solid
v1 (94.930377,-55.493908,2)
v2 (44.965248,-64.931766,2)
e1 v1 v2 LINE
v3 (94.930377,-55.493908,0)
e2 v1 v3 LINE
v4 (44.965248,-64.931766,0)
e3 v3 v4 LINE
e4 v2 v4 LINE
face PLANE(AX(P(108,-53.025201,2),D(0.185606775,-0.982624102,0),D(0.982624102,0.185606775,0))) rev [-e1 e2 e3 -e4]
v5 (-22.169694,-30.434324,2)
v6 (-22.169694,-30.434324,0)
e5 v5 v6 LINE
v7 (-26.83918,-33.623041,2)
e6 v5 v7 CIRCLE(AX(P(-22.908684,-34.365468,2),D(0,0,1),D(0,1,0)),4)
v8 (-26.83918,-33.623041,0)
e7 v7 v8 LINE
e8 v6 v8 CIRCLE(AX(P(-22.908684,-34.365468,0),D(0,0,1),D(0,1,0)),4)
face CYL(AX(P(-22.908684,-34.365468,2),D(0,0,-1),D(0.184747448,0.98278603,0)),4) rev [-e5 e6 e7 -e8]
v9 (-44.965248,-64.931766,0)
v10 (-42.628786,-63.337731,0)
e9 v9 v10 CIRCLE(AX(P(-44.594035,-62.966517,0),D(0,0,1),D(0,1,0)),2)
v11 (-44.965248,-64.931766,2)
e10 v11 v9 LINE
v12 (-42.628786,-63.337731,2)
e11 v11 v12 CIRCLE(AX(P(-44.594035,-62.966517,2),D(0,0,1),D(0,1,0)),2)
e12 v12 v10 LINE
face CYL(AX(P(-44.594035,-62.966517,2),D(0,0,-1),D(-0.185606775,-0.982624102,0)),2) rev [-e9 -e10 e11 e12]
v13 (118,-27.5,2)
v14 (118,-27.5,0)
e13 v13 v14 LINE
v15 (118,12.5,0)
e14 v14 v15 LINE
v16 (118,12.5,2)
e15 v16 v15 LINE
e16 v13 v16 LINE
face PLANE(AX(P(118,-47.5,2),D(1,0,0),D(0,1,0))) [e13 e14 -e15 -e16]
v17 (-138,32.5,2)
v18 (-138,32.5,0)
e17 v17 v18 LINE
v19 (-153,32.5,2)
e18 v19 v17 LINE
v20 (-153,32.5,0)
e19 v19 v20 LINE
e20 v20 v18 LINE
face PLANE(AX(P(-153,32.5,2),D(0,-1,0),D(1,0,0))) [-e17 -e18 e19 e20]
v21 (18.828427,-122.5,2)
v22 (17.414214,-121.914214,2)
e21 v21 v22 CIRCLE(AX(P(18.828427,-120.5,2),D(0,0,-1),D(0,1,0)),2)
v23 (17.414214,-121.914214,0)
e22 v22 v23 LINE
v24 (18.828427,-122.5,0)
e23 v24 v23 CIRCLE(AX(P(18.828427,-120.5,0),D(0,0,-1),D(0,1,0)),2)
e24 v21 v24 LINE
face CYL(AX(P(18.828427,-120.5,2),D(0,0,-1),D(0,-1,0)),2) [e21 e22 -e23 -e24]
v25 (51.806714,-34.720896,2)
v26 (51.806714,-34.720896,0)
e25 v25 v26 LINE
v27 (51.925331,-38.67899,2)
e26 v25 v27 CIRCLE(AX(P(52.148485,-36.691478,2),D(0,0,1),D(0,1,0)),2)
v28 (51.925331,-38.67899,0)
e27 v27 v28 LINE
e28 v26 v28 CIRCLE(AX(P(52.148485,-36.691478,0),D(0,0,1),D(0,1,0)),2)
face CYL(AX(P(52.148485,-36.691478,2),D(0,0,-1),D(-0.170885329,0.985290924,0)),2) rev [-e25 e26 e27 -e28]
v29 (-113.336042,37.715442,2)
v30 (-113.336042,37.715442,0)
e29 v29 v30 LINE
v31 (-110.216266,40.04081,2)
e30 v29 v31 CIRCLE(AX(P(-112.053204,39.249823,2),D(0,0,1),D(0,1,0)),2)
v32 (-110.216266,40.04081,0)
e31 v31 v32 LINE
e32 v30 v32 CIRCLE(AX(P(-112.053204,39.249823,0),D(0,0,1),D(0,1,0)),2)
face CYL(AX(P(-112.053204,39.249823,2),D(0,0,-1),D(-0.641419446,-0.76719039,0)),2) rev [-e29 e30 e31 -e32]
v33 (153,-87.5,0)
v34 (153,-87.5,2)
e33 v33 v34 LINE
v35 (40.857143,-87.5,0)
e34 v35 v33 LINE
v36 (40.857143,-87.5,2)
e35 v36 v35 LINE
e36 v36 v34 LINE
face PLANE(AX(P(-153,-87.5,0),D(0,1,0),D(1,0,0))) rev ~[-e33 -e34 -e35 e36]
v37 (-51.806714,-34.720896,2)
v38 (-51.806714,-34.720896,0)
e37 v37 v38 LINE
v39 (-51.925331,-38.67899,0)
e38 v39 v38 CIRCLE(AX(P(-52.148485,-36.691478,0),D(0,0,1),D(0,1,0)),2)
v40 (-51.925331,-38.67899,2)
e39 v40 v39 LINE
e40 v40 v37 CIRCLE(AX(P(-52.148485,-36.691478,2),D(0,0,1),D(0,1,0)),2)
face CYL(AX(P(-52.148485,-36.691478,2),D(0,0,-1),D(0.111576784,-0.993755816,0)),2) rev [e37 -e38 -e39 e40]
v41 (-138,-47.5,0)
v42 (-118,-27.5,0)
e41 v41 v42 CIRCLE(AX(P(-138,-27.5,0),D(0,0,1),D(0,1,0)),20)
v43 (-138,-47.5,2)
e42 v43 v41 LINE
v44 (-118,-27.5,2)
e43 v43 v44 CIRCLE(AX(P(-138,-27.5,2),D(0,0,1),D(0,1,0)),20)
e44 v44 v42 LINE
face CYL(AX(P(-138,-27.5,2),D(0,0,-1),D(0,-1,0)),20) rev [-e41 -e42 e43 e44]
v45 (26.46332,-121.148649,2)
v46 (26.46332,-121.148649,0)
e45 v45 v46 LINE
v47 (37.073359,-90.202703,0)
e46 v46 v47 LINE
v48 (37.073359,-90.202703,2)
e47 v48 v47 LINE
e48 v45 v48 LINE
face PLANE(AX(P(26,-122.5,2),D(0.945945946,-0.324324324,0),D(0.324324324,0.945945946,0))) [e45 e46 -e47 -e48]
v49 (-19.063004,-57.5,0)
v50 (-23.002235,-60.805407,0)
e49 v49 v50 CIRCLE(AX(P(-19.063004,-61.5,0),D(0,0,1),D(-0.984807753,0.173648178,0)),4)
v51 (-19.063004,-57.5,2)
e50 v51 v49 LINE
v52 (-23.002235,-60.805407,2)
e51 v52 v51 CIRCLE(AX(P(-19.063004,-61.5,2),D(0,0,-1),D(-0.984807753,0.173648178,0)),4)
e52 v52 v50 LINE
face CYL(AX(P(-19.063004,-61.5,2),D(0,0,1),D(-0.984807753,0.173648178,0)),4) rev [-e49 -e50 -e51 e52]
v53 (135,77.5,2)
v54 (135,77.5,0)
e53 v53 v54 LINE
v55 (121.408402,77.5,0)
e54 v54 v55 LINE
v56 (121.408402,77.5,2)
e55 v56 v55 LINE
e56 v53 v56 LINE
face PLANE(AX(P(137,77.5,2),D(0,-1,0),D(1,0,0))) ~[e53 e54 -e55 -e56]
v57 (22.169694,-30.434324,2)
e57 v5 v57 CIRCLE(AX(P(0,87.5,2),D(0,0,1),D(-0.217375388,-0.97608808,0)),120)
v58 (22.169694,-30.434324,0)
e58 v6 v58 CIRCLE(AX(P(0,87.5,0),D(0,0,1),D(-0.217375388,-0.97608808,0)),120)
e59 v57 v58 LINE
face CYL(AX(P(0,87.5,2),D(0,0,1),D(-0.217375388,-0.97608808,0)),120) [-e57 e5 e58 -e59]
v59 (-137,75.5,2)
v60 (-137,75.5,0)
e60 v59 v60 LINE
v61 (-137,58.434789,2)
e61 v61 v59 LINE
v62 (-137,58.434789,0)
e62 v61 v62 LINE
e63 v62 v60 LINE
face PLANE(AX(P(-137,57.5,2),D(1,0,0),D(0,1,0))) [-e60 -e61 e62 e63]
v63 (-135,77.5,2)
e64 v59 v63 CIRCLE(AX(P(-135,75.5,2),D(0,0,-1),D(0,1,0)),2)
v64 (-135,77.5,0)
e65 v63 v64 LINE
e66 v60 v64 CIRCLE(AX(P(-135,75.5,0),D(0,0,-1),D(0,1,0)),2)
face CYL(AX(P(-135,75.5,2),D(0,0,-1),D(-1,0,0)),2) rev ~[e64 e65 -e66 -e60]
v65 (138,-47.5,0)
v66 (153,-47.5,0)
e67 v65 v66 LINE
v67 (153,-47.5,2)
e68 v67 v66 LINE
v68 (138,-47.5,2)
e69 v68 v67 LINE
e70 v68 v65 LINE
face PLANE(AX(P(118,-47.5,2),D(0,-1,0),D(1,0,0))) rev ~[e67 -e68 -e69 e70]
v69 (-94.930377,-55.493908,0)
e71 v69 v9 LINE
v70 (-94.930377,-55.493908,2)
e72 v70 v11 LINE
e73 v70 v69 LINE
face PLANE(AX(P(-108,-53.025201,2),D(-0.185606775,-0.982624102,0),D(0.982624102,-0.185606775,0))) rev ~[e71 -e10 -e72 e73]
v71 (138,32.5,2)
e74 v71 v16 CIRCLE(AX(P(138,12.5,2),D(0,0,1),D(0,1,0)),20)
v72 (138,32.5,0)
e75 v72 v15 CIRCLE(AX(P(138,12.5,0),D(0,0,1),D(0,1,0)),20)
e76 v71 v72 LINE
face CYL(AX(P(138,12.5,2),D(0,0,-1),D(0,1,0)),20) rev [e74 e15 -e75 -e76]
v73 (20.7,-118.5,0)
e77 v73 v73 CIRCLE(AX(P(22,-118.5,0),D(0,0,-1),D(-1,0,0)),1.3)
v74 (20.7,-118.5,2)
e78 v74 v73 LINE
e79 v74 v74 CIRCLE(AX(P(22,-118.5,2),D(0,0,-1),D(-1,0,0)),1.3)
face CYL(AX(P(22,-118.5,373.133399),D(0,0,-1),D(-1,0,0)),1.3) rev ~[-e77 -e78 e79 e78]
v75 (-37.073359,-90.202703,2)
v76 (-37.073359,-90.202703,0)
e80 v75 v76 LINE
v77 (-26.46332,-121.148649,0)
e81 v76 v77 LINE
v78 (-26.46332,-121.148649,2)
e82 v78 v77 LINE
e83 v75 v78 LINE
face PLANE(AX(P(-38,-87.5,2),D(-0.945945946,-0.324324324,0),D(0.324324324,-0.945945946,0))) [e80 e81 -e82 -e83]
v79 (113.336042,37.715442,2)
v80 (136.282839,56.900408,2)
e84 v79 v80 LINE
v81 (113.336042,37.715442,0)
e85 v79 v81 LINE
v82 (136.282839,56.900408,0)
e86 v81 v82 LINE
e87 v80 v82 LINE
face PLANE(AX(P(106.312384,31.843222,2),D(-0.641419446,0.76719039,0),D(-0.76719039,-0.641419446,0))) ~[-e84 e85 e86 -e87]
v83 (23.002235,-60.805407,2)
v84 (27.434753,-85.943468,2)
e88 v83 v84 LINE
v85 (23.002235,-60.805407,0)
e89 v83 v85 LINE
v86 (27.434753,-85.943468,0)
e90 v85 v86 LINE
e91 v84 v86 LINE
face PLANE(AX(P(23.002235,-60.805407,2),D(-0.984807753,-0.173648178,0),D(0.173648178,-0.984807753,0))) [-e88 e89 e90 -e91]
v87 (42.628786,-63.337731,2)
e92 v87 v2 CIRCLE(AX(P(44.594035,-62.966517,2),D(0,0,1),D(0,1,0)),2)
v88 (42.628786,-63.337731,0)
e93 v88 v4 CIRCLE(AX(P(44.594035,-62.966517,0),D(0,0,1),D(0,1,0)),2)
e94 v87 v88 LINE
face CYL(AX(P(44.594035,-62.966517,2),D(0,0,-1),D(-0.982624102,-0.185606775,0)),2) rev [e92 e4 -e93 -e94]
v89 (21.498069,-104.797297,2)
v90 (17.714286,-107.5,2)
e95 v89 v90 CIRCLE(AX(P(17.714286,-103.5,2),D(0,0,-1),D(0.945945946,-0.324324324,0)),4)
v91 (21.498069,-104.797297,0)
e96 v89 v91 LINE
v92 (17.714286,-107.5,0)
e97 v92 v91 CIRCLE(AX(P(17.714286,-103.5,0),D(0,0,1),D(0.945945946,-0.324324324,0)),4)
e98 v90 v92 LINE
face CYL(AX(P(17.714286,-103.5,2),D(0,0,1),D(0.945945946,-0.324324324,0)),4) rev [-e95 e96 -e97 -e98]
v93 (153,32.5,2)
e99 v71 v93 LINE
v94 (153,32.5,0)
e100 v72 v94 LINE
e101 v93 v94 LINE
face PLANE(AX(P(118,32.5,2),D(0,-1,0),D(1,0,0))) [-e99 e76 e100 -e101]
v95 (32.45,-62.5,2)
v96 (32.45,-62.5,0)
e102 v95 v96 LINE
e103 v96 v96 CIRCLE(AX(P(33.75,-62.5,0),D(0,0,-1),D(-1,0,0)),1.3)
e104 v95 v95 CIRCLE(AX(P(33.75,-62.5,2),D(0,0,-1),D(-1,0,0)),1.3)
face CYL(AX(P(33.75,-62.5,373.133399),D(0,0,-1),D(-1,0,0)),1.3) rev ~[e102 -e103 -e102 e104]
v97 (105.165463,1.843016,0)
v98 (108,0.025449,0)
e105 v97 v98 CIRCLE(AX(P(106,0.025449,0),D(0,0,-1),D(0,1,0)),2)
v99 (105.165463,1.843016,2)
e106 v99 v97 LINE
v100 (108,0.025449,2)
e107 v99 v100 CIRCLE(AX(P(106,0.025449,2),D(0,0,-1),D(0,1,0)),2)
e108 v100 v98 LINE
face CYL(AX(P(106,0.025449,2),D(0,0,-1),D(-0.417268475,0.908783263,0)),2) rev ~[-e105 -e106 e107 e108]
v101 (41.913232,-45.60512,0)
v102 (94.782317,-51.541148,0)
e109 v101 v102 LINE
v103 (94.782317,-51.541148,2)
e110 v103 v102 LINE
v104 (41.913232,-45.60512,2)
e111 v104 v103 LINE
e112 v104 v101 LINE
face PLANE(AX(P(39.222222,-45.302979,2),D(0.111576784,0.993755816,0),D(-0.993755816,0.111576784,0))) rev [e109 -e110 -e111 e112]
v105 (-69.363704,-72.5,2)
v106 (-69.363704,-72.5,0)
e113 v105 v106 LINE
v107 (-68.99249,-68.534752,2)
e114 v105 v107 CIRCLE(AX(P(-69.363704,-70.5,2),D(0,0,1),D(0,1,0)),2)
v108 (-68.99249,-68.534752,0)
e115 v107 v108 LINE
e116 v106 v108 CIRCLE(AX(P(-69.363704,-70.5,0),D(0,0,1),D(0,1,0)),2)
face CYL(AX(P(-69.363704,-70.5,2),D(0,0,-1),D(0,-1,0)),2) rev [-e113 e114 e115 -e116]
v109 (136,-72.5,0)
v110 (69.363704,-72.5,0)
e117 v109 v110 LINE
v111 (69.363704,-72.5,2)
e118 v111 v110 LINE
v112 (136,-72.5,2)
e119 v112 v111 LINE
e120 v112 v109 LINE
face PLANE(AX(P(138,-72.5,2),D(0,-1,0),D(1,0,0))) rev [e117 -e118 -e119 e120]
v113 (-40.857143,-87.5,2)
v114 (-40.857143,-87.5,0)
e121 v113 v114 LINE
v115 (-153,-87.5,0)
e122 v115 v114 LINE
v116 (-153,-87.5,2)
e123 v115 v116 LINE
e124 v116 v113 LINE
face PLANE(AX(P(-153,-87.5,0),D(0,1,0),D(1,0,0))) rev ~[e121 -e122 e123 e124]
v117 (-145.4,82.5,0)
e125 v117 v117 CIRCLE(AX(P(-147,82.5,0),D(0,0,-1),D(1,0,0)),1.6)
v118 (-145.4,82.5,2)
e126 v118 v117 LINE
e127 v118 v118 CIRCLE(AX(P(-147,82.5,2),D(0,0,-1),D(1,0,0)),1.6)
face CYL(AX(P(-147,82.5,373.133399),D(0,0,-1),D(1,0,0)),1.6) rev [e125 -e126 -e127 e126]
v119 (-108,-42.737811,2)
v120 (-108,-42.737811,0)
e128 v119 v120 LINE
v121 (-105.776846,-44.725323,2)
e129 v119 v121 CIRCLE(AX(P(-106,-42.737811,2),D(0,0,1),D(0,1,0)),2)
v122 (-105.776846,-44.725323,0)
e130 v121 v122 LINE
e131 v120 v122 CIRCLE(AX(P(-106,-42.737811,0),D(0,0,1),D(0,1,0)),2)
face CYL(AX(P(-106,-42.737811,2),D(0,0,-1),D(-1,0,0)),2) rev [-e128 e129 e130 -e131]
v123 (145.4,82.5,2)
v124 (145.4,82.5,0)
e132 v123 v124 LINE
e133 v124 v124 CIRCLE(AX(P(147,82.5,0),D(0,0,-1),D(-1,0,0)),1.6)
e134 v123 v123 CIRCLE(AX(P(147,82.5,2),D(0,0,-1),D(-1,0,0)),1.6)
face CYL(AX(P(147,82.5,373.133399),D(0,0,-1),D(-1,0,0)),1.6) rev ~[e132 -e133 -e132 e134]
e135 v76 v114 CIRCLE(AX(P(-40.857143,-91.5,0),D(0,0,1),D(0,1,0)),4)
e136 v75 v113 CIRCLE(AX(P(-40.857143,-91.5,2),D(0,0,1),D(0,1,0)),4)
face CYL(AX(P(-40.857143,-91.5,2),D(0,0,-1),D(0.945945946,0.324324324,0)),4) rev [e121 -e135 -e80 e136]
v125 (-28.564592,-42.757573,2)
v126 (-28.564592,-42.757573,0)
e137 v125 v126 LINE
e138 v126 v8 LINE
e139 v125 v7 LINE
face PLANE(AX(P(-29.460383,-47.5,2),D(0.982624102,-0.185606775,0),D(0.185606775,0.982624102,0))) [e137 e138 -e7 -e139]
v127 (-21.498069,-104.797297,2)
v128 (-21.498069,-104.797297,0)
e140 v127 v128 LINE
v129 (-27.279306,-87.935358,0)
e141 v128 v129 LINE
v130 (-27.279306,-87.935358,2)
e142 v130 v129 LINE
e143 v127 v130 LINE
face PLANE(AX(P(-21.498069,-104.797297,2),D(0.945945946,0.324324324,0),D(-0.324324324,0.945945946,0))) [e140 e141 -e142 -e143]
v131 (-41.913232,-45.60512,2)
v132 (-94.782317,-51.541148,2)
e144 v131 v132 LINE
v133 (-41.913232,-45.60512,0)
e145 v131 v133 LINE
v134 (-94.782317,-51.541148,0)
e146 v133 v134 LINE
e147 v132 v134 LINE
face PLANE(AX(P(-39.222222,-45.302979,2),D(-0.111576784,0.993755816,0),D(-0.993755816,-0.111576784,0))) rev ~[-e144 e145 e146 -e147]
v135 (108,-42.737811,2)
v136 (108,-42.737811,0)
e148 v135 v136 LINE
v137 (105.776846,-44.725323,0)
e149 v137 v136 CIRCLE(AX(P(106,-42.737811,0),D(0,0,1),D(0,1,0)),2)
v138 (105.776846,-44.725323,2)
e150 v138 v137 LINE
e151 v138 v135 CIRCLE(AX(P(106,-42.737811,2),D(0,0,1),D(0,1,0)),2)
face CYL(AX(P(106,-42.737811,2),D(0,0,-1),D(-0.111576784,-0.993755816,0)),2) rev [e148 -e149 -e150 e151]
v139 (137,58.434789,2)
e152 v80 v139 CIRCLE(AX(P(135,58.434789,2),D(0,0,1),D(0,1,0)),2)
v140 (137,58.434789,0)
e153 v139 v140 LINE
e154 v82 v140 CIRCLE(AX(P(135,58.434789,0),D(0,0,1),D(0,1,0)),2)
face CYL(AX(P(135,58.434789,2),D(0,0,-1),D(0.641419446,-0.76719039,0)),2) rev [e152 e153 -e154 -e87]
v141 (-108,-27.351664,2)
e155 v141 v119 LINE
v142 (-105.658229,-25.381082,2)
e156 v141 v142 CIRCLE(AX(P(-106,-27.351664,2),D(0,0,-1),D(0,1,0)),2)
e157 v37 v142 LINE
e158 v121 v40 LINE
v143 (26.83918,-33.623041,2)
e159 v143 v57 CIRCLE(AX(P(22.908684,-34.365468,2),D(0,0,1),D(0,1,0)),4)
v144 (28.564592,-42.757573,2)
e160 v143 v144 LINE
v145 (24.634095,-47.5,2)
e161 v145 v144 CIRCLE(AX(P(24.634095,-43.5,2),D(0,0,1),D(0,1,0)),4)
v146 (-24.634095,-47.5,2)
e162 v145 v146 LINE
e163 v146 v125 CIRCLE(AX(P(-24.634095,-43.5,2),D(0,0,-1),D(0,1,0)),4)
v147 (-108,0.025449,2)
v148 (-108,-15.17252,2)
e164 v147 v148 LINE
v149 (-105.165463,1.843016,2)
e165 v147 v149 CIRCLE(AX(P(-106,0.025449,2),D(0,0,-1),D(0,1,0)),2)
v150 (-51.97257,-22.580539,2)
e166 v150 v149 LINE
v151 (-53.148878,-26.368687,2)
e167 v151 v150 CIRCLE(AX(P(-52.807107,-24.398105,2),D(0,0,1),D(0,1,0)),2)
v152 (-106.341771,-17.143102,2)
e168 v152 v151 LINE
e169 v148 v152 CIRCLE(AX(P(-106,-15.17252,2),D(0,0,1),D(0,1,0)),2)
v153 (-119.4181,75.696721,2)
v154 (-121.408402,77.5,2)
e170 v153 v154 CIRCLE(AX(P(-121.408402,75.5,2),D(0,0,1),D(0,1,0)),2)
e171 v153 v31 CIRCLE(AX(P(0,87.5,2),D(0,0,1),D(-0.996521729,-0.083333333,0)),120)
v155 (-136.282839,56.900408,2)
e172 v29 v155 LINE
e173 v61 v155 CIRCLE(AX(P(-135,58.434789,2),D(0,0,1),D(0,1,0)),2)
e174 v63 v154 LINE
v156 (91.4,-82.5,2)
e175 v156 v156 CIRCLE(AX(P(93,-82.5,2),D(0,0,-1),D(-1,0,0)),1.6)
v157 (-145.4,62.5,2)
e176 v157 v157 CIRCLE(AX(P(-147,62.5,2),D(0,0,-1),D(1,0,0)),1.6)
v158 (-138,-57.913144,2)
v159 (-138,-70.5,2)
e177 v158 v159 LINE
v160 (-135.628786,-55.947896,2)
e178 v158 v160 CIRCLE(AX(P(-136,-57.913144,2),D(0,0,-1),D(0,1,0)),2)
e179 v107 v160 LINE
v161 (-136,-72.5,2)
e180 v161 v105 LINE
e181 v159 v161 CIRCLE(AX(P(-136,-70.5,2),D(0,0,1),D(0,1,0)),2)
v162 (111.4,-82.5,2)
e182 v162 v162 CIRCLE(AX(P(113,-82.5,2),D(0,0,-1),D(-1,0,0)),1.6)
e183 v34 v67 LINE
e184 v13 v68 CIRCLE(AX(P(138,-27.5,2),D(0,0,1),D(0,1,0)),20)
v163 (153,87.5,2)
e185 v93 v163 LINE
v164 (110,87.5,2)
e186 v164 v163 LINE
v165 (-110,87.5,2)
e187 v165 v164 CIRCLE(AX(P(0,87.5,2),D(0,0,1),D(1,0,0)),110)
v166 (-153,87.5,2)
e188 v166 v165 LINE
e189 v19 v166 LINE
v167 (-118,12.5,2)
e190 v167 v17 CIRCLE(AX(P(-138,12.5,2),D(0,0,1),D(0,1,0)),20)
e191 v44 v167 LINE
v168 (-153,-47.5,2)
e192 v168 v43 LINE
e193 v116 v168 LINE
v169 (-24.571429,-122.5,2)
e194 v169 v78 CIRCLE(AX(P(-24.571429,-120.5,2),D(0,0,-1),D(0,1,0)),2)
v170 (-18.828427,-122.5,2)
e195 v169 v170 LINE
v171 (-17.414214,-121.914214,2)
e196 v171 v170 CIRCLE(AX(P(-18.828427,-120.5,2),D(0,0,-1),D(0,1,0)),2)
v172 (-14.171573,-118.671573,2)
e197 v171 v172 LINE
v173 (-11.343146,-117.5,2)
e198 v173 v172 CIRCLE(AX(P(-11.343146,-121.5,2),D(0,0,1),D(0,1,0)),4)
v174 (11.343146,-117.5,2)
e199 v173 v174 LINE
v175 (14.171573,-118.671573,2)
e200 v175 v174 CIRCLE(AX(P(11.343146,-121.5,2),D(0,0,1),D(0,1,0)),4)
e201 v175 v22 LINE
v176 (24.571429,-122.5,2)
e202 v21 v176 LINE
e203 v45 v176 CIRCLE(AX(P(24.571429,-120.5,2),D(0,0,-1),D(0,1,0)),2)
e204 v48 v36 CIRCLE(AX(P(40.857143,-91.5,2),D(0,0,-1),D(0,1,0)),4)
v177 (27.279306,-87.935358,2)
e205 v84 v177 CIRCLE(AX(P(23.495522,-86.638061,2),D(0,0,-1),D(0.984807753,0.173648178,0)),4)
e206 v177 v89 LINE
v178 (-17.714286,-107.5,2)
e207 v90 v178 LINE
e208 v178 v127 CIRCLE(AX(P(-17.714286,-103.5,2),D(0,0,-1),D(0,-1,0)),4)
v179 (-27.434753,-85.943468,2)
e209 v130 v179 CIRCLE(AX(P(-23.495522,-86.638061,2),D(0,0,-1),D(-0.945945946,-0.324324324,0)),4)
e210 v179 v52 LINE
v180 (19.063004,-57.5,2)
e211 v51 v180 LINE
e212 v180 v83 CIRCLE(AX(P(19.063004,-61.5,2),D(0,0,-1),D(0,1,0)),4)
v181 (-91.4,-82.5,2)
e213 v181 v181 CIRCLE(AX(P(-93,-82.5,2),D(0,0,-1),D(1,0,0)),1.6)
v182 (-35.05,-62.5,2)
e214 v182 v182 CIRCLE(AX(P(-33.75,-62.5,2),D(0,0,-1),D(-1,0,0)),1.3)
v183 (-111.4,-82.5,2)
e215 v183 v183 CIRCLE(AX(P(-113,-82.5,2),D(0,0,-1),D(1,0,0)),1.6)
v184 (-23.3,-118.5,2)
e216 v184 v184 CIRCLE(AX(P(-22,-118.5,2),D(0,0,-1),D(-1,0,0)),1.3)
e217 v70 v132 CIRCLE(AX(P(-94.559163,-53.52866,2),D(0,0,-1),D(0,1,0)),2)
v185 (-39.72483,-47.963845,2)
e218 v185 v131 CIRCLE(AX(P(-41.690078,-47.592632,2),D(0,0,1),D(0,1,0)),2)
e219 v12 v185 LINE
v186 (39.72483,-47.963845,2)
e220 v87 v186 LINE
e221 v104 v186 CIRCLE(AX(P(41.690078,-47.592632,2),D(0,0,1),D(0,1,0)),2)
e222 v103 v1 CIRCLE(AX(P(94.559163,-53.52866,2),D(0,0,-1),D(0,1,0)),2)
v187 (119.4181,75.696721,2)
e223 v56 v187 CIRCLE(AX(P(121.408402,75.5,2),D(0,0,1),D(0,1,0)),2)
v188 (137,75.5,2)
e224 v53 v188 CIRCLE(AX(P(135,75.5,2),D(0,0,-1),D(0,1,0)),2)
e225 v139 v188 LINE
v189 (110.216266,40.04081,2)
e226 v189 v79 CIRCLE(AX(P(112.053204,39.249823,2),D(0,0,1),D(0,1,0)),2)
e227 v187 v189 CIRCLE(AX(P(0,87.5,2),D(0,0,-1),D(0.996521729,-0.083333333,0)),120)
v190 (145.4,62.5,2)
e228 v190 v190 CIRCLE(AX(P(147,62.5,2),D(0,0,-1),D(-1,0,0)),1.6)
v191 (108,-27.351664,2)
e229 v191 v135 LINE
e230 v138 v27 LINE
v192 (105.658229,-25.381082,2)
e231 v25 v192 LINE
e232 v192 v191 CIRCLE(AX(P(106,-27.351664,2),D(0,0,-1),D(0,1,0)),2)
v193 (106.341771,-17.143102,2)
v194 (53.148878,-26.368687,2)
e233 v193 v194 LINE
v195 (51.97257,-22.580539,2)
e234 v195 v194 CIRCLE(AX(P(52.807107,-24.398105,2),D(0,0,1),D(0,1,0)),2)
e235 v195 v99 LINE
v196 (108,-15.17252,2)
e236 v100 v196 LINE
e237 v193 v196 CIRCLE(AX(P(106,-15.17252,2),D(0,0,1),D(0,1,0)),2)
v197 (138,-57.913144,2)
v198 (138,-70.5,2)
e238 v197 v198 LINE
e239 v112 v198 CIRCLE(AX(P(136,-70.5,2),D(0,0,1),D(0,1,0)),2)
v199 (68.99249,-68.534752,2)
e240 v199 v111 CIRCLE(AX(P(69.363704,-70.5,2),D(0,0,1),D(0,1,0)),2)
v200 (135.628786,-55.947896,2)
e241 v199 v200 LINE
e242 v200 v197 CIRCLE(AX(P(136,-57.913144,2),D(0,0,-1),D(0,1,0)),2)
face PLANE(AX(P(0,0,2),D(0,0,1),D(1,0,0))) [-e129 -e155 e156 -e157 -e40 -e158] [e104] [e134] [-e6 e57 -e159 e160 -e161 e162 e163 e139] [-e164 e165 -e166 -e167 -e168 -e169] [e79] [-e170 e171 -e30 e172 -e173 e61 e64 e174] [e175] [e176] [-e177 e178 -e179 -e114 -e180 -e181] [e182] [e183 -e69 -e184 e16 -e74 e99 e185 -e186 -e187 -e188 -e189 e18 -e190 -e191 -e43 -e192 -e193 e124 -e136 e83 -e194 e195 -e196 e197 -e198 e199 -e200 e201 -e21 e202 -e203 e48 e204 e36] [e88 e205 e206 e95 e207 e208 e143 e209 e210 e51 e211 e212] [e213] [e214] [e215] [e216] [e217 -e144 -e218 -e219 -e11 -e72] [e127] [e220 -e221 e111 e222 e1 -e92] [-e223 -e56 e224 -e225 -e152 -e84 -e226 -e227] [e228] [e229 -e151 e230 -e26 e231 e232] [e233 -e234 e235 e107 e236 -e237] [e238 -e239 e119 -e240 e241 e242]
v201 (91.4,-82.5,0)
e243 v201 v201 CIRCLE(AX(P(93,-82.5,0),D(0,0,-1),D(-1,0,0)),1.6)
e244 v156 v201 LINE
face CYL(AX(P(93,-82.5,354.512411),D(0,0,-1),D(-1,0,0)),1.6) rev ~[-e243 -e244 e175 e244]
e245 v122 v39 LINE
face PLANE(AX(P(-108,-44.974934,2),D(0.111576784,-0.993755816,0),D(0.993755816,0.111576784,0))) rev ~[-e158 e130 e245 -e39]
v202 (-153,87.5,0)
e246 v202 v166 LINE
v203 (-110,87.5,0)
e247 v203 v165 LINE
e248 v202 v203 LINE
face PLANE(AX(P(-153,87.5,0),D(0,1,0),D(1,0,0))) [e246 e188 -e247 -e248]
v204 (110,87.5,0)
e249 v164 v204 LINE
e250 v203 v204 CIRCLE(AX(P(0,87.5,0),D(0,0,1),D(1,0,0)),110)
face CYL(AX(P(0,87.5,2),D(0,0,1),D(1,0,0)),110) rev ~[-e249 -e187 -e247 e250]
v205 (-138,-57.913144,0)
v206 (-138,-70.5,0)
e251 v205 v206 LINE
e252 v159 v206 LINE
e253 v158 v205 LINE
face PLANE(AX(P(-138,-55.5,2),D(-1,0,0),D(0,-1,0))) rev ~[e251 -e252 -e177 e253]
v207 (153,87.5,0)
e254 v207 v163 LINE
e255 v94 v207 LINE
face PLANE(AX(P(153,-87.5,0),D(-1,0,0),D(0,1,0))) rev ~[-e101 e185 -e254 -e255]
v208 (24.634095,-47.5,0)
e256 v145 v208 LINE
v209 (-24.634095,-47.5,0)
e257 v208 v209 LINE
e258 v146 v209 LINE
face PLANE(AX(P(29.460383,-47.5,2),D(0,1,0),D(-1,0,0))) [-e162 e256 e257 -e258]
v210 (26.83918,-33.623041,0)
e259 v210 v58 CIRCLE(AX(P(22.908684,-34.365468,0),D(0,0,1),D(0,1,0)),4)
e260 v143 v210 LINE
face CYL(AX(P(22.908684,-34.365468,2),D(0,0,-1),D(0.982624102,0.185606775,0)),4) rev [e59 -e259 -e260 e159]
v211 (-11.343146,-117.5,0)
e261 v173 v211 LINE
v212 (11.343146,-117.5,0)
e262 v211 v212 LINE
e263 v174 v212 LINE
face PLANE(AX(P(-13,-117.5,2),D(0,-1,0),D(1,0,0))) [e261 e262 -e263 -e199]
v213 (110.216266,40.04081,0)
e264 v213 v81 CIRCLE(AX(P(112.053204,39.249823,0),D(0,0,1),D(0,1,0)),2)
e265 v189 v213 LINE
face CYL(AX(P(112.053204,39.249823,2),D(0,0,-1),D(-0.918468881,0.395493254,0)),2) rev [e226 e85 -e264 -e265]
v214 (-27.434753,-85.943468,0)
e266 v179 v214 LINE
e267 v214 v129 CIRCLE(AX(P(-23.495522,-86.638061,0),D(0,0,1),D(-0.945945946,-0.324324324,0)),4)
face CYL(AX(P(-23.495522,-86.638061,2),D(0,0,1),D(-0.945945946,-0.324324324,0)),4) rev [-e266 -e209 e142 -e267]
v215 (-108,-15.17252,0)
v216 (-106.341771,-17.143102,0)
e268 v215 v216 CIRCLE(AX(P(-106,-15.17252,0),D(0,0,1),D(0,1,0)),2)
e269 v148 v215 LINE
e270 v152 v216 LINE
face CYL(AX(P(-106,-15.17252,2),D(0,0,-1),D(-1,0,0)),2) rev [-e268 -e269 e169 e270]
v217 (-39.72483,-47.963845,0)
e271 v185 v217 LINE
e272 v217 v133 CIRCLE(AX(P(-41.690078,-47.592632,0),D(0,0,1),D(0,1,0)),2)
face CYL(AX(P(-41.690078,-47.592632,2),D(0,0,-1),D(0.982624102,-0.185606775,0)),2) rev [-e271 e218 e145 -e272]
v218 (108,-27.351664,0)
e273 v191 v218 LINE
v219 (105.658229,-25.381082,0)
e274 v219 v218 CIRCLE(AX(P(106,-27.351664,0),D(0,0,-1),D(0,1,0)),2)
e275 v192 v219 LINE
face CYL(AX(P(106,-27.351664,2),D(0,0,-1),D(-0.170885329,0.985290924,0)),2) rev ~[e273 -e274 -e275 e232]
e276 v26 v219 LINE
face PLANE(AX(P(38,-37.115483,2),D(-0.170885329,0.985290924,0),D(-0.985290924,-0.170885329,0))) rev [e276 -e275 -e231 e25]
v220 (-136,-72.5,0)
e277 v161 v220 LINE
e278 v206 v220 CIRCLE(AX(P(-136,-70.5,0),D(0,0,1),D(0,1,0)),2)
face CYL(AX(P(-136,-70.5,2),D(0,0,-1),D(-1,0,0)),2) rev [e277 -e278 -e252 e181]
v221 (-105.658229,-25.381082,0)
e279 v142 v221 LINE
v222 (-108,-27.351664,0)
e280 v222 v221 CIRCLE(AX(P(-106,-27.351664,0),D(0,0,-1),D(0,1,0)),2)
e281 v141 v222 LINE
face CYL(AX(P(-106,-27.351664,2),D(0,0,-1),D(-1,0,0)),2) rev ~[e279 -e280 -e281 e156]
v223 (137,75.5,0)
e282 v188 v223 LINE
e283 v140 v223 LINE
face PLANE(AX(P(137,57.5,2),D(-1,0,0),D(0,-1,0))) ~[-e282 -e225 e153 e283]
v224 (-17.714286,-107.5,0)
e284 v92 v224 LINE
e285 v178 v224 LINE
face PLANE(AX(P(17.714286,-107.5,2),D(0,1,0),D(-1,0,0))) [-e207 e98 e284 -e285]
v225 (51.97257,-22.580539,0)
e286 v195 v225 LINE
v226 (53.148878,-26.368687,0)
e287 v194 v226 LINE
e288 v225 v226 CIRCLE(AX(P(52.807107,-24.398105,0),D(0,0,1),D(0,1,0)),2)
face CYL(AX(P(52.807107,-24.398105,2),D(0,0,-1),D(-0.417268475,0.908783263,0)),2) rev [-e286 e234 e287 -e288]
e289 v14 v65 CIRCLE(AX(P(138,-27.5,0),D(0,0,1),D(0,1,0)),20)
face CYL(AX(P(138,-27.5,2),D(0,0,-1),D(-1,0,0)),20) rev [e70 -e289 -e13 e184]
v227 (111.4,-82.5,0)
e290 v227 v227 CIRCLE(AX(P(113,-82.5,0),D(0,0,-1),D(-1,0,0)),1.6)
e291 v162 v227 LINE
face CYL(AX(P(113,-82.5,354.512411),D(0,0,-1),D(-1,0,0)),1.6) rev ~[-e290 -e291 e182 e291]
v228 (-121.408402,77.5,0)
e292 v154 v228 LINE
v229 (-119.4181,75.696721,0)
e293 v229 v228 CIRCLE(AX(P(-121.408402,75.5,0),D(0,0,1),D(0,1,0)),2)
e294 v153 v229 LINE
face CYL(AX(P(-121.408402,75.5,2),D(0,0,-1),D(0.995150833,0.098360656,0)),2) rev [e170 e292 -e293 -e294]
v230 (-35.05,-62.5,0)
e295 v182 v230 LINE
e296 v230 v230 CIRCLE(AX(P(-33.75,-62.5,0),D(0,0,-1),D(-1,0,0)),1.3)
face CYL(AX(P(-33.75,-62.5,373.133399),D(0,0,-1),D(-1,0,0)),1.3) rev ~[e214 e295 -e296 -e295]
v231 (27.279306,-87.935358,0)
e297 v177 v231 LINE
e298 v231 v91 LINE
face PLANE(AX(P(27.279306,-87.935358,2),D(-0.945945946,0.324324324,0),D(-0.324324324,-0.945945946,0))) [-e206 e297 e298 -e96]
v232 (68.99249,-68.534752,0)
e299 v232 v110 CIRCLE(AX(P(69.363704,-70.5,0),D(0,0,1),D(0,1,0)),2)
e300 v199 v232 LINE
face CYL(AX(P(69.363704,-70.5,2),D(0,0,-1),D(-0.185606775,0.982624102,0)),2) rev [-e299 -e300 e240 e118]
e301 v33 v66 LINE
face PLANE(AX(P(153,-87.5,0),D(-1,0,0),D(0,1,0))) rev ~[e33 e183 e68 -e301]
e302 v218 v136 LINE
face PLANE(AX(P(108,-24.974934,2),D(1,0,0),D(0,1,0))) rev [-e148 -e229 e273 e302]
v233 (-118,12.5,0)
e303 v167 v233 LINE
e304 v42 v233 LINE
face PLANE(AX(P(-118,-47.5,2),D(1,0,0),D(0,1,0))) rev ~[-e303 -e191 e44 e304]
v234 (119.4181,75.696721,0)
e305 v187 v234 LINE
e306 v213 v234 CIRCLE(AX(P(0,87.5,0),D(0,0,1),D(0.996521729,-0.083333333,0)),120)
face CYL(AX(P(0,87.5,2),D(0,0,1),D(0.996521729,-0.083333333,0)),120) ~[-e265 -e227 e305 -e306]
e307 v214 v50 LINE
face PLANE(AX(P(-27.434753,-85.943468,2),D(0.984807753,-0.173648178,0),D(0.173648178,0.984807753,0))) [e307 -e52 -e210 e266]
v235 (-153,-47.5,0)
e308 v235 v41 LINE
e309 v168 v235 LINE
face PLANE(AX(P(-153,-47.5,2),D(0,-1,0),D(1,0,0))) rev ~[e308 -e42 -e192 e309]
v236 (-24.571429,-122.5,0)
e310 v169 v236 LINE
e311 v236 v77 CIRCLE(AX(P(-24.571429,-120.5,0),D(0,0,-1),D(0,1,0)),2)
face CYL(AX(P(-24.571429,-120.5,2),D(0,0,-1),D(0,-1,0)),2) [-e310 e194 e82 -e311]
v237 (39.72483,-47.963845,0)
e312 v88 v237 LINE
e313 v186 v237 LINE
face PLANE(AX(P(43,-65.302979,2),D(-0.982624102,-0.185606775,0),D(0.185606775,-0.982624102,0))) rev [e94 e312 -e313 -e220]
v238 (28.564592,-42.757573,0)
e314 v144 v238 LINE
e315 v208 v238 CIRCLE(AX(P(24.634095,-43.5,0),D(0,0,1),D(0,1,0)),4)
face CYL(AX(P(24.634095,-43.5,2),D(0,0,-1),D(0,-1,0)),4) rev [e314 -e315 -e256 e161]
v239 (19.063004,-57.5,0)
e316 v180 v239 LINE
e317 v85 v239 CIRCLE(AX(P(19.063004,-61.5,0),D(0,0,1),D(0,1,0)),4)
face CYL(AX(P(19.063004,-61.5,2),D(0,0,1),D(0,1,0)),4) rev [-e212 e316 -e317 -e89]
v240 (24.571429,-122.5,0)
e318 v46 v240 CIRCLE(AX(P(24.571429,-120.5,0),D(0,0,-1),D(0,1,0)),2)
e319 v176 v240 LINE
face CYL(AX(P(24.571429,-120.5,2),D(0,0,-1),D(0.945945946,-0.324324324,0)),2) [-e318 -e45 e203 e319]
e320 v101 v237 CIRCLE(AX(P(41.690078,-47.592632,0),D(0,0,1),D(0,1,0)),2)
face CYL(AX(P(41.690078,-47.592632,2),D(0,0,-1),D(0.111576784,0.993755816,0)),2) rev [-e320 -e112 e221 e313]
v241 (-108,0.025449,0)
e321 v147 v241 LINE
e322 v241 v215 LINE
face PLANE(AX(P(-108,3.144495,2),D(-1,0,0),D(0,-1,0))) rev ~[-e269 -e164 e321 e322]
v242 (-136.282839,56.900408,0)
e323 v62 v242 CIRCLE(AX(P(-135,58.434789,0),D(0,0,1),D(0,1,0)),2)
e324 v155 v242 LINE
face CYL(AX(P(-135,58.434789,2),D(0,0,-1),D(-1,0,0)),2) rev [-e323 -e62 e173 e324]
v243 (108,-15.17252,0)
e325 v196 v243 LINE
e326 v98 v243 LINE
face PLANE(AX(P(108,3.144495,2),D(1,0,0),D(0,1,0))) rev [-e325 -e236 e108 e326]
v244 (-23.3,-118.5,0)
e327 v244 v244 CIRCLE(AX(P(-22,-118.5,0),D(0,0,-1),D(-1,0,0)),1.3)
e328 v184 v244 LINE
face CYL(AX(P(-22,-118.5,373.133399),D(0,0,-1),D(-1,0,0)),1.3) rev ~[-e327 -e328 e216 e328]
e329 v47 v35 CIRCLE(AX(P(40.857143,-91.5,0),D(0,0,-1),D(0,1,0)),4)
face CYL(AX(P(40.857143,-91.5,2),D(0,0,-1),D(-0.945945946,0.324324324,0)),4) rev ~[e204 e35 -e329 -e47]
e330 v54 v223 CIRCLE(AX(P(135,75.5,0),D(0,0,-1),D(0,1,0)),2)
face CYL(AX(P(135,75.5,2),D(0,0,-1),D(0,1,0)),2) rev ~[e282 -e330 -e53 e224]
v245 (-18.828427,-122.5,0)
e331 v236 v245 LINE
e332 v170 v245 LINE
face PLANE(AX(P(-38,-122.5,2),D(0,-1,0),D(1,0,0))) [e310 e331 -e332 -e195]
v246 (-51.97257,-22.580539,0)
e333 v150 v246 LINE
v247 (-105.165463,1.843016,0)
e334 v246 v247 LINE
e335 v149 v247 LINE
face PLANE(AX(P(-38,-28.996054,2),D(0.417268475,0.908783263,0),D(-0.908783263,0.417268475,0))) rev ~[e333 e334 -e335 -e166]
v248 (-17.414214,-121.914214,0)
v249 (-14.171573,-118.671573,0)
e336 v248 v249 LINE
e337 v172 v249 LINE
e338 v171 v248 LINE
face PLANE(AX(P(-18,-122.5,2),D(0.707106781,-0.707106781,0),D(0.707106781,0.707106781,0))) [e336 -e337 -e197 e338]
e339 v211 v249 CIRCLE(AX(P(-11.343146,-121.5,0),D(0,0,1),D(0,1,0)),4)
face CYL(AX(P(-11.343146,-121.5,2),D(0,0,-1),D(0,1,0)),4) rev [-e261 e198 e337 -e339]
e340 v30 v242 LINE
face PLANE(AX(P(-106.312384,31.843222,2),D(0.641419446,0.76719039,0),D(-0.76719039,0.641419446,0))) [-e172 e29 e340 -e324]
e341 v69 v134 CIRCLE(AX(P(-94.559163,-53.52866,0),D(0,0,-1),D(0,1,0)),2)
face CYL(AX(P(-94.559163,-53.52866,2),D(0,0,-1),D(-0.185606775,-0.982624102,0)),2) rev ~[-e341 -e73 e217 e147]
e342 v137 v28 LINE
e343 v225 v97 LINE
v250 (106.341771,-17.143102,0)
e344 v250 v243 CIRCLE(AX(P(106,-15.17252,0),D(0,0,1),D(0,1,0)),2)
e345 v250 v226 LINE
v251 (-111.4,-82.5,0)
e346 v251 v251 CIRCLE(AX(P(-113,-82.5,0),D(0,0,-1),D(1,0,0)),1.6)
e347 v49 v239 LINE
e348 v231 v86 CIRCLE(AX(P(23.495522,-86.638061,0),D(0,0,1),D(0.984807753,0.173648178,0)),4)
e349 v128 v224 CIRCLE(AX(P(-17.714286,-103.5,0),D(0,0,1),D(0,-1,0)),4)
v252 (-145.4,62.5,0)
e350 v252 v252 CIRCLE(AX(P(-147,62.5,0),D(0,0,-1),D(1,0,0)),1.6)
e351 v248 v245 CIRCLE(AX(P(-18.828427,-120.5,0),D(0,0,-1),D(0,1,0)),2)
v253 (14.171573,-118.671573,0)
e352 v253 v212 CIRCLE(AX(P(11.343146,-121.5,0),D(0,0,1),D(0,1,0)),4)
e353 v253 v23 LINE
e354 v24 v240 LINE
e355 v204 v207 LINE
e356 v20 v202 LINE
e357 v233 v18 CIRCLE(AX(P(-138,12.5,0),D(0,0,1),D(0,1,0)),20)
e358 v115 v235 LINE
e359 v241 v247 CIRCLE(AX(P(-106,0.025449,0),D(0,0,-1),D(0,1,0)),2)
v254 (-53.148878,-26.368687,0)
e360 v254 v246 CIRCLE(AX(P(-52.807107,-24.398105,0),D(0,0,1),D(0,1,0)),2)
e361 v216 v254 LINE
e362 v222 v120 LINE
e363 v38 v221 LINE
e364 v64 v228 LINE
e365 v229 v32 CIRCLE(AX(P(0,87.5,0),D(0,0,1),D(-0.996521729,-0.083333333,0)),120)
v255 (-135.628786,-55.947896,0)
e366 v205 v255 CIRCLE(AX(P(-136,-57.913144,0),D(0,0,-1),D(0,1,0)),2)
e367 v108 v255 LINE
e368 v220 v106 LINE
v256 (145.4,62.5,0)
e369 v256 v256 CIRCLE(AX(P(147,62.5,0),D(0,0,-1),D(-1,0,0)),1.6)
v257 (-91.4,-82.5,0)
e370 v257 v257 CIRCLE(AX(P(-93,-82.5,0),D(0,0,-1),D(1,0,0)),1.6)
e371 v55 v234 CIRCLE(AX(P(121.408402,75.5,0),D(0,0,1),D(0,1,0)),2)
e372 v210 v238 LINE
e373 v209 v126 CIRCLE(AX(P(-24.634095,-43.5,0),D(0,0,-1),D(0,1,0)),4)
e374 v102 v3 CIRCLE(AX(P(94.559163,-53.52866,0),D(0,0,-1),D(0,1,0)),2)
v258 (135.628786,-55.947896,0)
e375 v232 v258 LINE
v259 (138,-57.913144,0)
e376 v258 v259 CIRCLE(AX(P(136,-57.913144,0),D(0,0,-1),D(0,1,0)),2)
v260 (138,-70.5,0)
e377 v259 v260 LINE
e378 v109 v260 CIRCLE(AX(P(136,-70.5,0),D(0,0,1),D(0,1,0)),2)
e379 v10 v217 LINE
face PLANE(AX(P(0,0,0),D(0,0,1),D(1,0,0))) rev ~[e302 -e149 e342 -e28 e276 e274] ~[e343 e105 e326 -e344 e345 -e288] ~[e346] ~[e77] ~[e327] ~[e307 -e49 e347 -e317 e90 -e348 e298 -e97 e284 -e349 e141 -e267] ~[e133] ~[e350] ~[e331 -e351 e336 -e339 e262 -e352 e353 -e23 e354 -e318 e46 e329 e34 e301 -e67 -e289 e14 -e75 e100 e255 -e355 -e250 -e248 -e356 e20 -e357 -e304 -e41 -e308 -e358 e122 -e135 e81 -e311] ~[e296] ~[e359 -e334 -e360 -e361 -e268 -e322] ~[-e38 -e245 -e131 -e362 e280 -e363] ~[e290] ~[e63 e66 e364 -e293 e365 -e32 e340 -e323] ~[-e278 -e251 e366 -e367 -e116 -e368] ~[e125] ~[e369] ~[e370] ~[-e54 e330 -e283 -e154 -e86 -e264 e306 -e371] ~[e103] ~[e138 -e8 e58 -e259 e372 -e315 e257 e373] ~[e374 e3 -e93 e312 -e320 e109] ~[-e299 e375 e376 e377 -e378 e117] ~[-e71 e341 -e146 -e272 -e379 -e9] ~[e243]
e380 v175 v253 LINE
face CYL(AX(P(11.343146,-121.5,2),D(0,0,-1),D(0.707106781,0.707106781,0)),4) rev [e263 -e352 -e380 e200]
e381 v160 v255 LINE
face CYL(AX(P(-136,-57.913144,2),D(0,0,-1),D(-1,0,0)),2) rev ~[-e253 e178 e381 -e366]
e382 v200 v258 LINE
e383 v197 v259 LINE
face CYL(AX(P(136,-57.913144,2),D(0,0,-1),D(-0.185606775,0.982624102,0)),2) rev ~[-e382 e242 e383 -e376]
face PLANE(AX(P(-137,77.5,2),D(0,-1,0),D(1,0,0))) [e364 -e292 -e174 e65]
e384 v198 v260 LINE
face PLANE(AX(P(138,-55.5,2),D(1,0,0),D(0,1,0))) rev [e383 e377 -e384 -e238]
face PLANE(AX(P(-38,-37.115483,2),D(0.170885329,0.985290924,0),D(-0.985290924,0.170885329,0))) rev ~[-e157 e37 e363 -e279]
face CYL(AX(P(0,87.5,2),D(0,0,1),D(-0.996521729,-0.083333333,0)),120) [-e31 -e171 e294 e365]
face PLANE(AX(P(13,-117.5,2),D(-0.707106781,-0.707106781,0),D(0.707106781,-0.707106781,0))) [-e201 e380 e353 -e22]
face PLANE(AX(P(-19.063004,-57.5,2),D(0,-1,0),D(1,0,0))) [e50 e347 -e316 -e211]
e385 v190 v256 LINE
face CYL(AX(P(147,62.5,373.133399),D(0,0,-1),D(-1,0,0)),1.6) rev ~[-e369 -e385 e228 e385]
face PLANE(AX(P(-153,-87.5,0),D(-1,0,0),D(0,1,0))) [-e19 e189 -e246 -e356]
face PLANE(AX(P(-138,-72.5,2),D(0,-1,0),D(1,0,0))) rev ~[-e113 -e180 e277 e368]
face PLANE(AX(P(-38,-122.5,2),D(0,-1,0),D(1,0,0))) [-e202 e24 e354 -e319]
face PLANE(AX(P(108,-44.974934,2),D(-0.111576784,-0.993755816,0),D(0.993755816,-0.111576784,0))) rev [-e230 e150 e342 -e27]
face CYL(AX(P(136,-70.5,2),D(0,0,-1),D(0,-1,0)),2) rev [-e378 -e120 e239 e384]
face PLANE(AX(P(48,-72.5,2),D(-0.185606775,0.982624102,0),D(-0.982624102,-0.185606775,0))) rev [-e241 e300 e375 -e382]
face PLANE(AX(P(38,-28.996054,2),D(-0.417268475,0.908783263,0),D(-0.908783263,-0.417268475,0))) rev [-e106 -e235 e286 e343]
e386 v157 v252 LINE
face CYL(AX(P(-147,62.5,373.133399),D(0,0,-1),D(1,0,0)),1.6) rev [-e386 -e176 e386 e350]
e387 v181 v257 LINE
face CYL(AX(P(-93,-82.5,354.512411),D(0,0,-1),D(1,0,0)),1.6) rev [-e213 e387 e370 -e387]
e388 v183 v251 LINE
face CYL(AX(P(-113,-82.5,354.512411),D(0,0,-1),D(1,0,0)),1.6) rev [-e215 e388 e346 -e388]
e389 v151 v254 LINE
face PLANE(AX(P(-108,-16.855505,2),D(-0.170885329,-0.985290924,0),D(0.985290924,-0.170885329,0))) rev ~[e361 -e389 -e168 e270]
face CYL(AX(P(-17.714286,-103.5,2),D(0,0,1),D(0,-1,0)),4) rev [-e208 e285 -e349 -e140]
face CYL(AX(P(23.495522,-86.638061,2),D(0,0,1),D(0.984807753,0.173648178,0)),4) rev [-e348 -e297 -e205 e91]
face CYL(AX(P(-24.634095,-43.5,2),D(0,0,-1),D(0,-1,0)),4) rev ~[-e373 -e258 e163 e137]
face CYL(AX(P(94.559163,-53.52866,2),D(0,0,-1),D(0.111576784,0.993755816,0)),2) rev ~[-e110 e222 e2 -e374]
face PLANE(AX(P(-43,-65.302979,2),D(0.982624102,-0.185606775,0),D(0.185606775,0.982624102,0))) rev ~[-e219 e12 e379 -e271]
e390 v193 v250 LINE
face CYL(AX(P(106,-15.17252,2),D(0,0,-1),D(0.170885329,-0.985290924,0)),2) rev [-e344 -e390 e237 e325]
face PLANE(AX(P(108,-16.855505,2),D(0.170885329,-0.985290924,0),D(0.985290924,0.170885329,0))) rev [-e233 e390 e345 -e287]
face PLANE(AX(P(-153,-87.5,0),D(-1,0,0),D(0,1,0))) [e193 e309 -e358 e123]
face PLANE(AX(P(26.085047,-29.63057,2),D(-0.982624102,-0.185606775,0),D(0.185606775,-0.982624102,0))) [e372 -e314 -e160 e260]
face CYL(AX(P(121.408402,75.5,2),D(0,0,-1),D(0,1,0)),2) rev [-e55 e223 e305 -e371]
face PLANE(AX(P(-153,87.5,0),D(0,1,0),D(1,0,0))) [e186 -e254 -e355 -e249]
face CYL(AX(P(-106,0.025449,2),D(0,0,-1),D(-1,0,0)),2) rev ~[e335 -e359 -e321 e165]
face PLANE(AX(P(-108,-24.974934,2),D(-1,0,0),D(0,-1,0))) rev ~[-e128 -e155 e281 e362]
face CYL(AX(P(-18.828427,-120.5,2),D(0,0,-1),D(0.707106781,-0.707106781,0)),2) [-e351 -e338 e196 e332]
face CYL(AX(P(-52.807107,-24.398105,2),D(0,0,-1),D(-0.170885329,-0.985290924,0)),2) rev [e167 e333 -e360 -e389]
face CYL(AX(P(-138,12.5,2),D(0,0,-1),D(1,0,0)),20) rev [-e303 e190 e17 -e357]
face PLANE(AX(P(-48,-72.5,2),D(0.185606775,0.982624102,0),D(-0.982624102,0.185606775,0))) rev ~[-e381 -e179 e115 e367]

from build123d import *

# Parameters (mm, degrees)
SKETCH_1_W              = 306
SKETCH_1_H              = 175
EXTRUDE_1_DEPTH         = 2
SKETCH_2_R              = 110
SKETCH_2_W              = 35
SKETCH_2_H              = 80
CUT_EXTRUDE_1_DEPTH     = 177.264715698
FILLET_1_R              = 20
HOLE_WIZARD_3_2_3_2_1_D = 3.2
SKETCH_5_W              = 76
SKETCH_5_H              = 35
EXTRUDE_2_DEPTH         = 2
HOLE_WIZARD_2_6_2_6_1_D = 2.6
CUT_EXTRUDE_2_DEPTH     = 197.008290641
FILLET_2_R              = 2
FILLET_3_R              = 4
CUT_EXTRUDE_3_DEPTH     = 197.008290641
FILLET_4_R              = 2
FILLET_4_OF_MIRROR_2_R  = 2
CUT_EXTRUDE_4_DEPTH     = 197.008290641
FILLET_5_R              = 4
HOLE_WIZARD_3_2_3_2_2_D = 3.2
CUT_EXTRUDE_5_DEPTH     = 197.008290641
FILLET_7_R              = 2
FILLET_7_OF_MIRROR_4_R  = 2


with BuildPart() as part:
    # 草图1 → 凸台-拉伸1 (new body)
    with BuildSketch(Plane.XY):
        Rectangle(SKETCH_1_W, SKETCH_1_H)
    extrude(amount=EXTRUDE_1_DEPTH)

    # 草图2 → 切除-拉伸1 (cut, through all)
    with BuildSketch(Plane.XY.offset(2)):
        with Locations((0, 87.5)):
            Circle(SKETCH_2_R)
        with Locations((-135.5, -7.5)):
            Rectangle(SKETCH_2_W, SKETCH_2_H)
        with Locations((135.5, -7.5)):
            Rectangle(SKETCH_2_W, SKETCH_2_H)
    extrude(amount=-CUT_EXTRUDE_1_DEPTH, mode=Mode.SUBTRACT)

    # 圆角1
    fillet_1_edges = [part.edges().sort_by_distance(p)[0] for p in [
        (118, -47.5, 1),
        (118, 32.5, 1),
        (-118, 32.5, 1),
        (-118, -47.5, 1),
    ]]
    fillet(fillet_1_edges, radius=FILLET_1_R)

    # Ø3.2 (3.2) 直径孔1 (through all)
    with Locations(Plane(origin=(113, -82.5, 2), x_dir=(1, 0, 0), z_dir=(0, 0, 1))):
        with Locations((0, 0), (-20, 0)):
            hole_wizard_3_2_3_2_1 = Hole(HOLE_WIZARD_3_2_3_2_1_D / 2)

    # 镜向1: Ø3.2 (3.2) 直径孔1 across plane
    add(hole_wizard_3_2_3_2_1.mirror(Plane(origin=(0, 0, 0), x_dir=(0, 0, 1), z_dir=(1, 0, 0))), mode=Mode.SUBTRACT)

    # 草图5 → 凸台-拉伸2 (add)
    with BuildSketch(Plane.XY.offset(2)):
        with Locations((0, -105)):
            Rectangle(SKETCH_5_W, SKETCH_5_H)
    extrude(amount=-EXTRUDE_2_DEPTH)

    # Ø2.6 (2.6) 直径孔1 (through all)
    with Locations(Plane(origin=(-33.75, -62.5, 2), x_dir=(1, 0, 0), z_dir=(0, 0, 1))):
        with Locations((0, 0), (67.5, 0), (11.75, -56), (55.75, -56)):
            Hole(HOLE_WIZARD_2_6_2_6_1_D / 2)

    # 草图8 → 切除-拉伸2 (cut, through all)
    with BuildSketch(Plane.XY.offset(2)):
        Polygon((38, -122.5), (26, -122.5), (38, -87.5), align=None)
        Polygon((-38, -87.5), (-26, -122.5), (-38, -122.5), align=None)
        Polygon((-18, -122.5), (-13, -117.5), (13, -117.5), (18, -122.5), align=None)
    extrude(amount=-CUT_EXTRUDE_2_DEPTH, mode=Mode.SUBTRACT)

    # 圆角2
    fillet_2_edges = [part.edges().sort_by_distance(p)[0] for p in [
        (26, -122.5, 1),
        (-26, -122.5, 1),
        (18, -122.5, 1),
        (-18, -122.5, 1),
    ]]
    fillet(fillet_2_edges, radius=FILLET_2_R)

    # 圆角3
    fillet_3_edges = [part.edges().sort_by_distance(p)[0] for p in [
        (-38, -87.5, 1),
        (38, -87.5, 1),
        (-13, -117.5, 1),
        (13, -117.5, 1),
    ]]
    fillet(fillet_3_edges, radius=FILLET_3_R)

    # 草图9 → 切除-拉伸3 (cut, through all)
    with BuildSketch(Plane.XY.offset(2)):
        Polygon((-138, -55.5), (-138, -72.5), (-48, -72.5), align=None)
        with BuildLine():
            Line((-21.498069498, -104.797297297), (-27.279305729, -87.93535829))
            ThreePointArc((-27.279305729, -87.93535829), (-27.483396797, -86.949275011), (-27.434752957, -85.943468283))
            Line((-27.434752957, -85.943468283), (-23.002234561, -60.805407289))
            ThreePointArc((-23.002234561, -60.805407289), (-21.634153988, -58.435822228), (-19.063003549, -57.5))
            Line((-19.063003549, -57.5), (19.063003549, -57.5))
            ThreePointArc((19.063003549, -57.5), (21.634153988, -58.435822228), (23.002234561, -60.805407289))
            Line((23.002234561, -60.805407289), (27.434752957, -85.943468283))
            ThreePointArc((27.434752957, -85.943468283), (27.483396797, -86.949275011), (27.279305729, -87.93535829))
            Line((27.279305729, -87.93535829), (21.498069498, -104.797297297))
            ThreePointArc((21.498069498, -104.797297297), (20.039238489, -106.754933885), (17.714285714, -107.5))
            Line((17.714285714, -107.5), (-17.714285714, -107.5))
            ThreePointArc((-17.714285714, -107.5), (-20.039238489, -106.754933885), (-21.498069498, -104.797297297))
        make_face()
        Polygon((-108, -53.025201394), (-43, -65.302979172), (-39.222222222, -45.302979172), align=None)
        Polygon((-108, -24.974934041), (-108, -44.974934041), (-38, -37.115483314), align=None)
        Polygon((-108, 3.144495264), (-108, -16.855504736), (-38, -28.996054009), align=None)
    cut_extrude_3 = extrude(amount=-CUT_EXTRUDE_3_DEPTH, mode=Mode.SUBTRACT)

    # 圆角4
    fillet_4_edges = [part.edges().sort_by_distance(p)[0] for p in [
        (-108, -24.974934041, 1),
        (-38, -37.115483314, 1),
        (-108, -44.974934041, 1),
        (-108, 3.144495264, 1),
        (-38, -28.996054009, 1),
        (-108, -16.855504736, 1),
        (-108, -53.025201394, 1),
        (-39.222222222, -45.302979172, 1),
        (-43, -65.302979172, 1),
        (-138, -55.5, 1),
        (-48, -72.5, 1),
        (-138, -72.5, 1),
    ]]
    fillet(fillet_4_edges, radius=FILLET_4_R)

    # 镜向2: 切除-拉伸3 across plane
    add(cut_extrude_3.mirror(Plane(origin=(0, 0, 0), x_dir=(0, 0, 1), z_dir=(1, 0, 0))), mode=Mode.SUBTRACT)

    # 圆角4 of 镜向2
    fillet_4_of_mirror_2_edges = [part.edges().sort_by_distance(p)[0] for p in [
        (108, -24.974934041, 1),
        (38, -37.115483314, 1),
        (108, -44.974934041, 1),
        (108, 3.144495264, 1),
        (38, -28.996054009, 1),
        (108, -16.855504736, 1),
        (108, -53.025201394, 1),
        (39.222222222, -45.302979172, 1),
        (43, -65.302979172, 1),
        (138, -55.5, 1),
        (48, -72.5, 1),
        (138, -72.5, 1),
    ]]
    fillet(fillet_4_of_mirror_2_edges, radius=FILLET_4_OF_MIRROR_2_R)

    # 草图10 → 切除-拉伸4 (cut, through all)
    with BuildSketch(Plane.XY.offset(2)):
        with BuildLine():
            Line((-29.460383454, -47.5), (-26.085046608, -29.630569637))
            ThreePointArc((-26.085046608, -29.630569637), (0, -32.5), (26.085046608, -29.630569637))
            Line((26.085046608, -29.630569637), (29.460383454, -47.5))
            Line((29.460383454, -47.5), (-29.460383454, -47.5))
        make_face()
    extrude(amount=-CUT_EXTRUDE_4_DEPTH, mode=Mode.SUBTRACT)

    # 圆角5
    fillet_5_edges = [part.edges().sort_by_distance(p)[0] for p in [
        (29.460383454, -47.5, 1),
        (-29.460383454, -47.5, 1),
        (-26.085046608, -29.630569637, 1),
        (26.085046608, -29.630569637, 1),
    ]]
    fillet(fillet_5_edges, radius=FILLET_5_R)

    # Ø3.2 (3.2) 直径孔2 (through all)
    with Locations(Plane(origin=(147, 82.5, 2), x_dir=(1, 0, 0), z_dir=(0, 0, 1))):
        with Locations((0, 0), (0, -20)):
            hole_wizard_3_2_3_2_2 = Hole(HOLE_WIZARD_3_2_3_2_2_D / 2)

    # 镜向3: Ø3.2 (3.2) 直径孔2 across plane
    add(hole_wizard_3_2_3_2_2.mirror(Plane(origin=(0, 0, 0), x_dir=(0, 0, 1), z_dir=(1, 0, 0))), mode=Mode.SUBTRACT)

    # 草图13 → 切除-拉伸5 (cut, through all)
    with BuildSketch(Plane.XY.offset(2)):
        with BuildLine():
            Line((-137, 77.5), (-119.582607431, 77.5))
            ThreePointArc((-119.582607431, 77.5), (-115.231385377, 54.007794577), (-106.312384413, 31.843222151))
            Line((-106.312384413, 31.843222151), (-137, 57.5))
            Line((-137, 57.5), (-137, 77.5))
        make_face()
    cut_extrude_5 = extrude(amount=-CUT_EXTRUDE_5_DEPTH, mode=Mode.SUBTRACT)

    # 圆角7
    fillet_7_edges = [part.edges().sort_by_distance(p)[0] for p in [
        (-137, 57.5, 1),
        (-137, 77.5, 1),
        (-119.582607431, 77.5, 1),
        (-106.312384413, 31.843222151, 1),
    ]]
    fillet(fillet_7_edges, radius=FILLET_7_R)

    # 镜向4: 切除-拉伸5 across plane
    add(cut_extrude_5.mirror(Plane(origin=(0, 0, 0), x_dir=(0, 0, 1), z_dir=(1, 0, 0))), mode=Mode.SUBTRACT)

    # 圆角7 of 镜向4
    fillet_7_of_mirror_4_edges = [part.edges().sort_by_distance(p)[0] for p in [
        (137, 57.5, 1),
        (137, 77.5, 1),
        (119.582607431, 77.5, 1),
        (106.312384413, 31.843222151, 1),
    ]]
    fillet(fillet_7_of_mirror_4_edges, radius=FILLET_7_OF_MIRROR_4_R)


solid = part.part
